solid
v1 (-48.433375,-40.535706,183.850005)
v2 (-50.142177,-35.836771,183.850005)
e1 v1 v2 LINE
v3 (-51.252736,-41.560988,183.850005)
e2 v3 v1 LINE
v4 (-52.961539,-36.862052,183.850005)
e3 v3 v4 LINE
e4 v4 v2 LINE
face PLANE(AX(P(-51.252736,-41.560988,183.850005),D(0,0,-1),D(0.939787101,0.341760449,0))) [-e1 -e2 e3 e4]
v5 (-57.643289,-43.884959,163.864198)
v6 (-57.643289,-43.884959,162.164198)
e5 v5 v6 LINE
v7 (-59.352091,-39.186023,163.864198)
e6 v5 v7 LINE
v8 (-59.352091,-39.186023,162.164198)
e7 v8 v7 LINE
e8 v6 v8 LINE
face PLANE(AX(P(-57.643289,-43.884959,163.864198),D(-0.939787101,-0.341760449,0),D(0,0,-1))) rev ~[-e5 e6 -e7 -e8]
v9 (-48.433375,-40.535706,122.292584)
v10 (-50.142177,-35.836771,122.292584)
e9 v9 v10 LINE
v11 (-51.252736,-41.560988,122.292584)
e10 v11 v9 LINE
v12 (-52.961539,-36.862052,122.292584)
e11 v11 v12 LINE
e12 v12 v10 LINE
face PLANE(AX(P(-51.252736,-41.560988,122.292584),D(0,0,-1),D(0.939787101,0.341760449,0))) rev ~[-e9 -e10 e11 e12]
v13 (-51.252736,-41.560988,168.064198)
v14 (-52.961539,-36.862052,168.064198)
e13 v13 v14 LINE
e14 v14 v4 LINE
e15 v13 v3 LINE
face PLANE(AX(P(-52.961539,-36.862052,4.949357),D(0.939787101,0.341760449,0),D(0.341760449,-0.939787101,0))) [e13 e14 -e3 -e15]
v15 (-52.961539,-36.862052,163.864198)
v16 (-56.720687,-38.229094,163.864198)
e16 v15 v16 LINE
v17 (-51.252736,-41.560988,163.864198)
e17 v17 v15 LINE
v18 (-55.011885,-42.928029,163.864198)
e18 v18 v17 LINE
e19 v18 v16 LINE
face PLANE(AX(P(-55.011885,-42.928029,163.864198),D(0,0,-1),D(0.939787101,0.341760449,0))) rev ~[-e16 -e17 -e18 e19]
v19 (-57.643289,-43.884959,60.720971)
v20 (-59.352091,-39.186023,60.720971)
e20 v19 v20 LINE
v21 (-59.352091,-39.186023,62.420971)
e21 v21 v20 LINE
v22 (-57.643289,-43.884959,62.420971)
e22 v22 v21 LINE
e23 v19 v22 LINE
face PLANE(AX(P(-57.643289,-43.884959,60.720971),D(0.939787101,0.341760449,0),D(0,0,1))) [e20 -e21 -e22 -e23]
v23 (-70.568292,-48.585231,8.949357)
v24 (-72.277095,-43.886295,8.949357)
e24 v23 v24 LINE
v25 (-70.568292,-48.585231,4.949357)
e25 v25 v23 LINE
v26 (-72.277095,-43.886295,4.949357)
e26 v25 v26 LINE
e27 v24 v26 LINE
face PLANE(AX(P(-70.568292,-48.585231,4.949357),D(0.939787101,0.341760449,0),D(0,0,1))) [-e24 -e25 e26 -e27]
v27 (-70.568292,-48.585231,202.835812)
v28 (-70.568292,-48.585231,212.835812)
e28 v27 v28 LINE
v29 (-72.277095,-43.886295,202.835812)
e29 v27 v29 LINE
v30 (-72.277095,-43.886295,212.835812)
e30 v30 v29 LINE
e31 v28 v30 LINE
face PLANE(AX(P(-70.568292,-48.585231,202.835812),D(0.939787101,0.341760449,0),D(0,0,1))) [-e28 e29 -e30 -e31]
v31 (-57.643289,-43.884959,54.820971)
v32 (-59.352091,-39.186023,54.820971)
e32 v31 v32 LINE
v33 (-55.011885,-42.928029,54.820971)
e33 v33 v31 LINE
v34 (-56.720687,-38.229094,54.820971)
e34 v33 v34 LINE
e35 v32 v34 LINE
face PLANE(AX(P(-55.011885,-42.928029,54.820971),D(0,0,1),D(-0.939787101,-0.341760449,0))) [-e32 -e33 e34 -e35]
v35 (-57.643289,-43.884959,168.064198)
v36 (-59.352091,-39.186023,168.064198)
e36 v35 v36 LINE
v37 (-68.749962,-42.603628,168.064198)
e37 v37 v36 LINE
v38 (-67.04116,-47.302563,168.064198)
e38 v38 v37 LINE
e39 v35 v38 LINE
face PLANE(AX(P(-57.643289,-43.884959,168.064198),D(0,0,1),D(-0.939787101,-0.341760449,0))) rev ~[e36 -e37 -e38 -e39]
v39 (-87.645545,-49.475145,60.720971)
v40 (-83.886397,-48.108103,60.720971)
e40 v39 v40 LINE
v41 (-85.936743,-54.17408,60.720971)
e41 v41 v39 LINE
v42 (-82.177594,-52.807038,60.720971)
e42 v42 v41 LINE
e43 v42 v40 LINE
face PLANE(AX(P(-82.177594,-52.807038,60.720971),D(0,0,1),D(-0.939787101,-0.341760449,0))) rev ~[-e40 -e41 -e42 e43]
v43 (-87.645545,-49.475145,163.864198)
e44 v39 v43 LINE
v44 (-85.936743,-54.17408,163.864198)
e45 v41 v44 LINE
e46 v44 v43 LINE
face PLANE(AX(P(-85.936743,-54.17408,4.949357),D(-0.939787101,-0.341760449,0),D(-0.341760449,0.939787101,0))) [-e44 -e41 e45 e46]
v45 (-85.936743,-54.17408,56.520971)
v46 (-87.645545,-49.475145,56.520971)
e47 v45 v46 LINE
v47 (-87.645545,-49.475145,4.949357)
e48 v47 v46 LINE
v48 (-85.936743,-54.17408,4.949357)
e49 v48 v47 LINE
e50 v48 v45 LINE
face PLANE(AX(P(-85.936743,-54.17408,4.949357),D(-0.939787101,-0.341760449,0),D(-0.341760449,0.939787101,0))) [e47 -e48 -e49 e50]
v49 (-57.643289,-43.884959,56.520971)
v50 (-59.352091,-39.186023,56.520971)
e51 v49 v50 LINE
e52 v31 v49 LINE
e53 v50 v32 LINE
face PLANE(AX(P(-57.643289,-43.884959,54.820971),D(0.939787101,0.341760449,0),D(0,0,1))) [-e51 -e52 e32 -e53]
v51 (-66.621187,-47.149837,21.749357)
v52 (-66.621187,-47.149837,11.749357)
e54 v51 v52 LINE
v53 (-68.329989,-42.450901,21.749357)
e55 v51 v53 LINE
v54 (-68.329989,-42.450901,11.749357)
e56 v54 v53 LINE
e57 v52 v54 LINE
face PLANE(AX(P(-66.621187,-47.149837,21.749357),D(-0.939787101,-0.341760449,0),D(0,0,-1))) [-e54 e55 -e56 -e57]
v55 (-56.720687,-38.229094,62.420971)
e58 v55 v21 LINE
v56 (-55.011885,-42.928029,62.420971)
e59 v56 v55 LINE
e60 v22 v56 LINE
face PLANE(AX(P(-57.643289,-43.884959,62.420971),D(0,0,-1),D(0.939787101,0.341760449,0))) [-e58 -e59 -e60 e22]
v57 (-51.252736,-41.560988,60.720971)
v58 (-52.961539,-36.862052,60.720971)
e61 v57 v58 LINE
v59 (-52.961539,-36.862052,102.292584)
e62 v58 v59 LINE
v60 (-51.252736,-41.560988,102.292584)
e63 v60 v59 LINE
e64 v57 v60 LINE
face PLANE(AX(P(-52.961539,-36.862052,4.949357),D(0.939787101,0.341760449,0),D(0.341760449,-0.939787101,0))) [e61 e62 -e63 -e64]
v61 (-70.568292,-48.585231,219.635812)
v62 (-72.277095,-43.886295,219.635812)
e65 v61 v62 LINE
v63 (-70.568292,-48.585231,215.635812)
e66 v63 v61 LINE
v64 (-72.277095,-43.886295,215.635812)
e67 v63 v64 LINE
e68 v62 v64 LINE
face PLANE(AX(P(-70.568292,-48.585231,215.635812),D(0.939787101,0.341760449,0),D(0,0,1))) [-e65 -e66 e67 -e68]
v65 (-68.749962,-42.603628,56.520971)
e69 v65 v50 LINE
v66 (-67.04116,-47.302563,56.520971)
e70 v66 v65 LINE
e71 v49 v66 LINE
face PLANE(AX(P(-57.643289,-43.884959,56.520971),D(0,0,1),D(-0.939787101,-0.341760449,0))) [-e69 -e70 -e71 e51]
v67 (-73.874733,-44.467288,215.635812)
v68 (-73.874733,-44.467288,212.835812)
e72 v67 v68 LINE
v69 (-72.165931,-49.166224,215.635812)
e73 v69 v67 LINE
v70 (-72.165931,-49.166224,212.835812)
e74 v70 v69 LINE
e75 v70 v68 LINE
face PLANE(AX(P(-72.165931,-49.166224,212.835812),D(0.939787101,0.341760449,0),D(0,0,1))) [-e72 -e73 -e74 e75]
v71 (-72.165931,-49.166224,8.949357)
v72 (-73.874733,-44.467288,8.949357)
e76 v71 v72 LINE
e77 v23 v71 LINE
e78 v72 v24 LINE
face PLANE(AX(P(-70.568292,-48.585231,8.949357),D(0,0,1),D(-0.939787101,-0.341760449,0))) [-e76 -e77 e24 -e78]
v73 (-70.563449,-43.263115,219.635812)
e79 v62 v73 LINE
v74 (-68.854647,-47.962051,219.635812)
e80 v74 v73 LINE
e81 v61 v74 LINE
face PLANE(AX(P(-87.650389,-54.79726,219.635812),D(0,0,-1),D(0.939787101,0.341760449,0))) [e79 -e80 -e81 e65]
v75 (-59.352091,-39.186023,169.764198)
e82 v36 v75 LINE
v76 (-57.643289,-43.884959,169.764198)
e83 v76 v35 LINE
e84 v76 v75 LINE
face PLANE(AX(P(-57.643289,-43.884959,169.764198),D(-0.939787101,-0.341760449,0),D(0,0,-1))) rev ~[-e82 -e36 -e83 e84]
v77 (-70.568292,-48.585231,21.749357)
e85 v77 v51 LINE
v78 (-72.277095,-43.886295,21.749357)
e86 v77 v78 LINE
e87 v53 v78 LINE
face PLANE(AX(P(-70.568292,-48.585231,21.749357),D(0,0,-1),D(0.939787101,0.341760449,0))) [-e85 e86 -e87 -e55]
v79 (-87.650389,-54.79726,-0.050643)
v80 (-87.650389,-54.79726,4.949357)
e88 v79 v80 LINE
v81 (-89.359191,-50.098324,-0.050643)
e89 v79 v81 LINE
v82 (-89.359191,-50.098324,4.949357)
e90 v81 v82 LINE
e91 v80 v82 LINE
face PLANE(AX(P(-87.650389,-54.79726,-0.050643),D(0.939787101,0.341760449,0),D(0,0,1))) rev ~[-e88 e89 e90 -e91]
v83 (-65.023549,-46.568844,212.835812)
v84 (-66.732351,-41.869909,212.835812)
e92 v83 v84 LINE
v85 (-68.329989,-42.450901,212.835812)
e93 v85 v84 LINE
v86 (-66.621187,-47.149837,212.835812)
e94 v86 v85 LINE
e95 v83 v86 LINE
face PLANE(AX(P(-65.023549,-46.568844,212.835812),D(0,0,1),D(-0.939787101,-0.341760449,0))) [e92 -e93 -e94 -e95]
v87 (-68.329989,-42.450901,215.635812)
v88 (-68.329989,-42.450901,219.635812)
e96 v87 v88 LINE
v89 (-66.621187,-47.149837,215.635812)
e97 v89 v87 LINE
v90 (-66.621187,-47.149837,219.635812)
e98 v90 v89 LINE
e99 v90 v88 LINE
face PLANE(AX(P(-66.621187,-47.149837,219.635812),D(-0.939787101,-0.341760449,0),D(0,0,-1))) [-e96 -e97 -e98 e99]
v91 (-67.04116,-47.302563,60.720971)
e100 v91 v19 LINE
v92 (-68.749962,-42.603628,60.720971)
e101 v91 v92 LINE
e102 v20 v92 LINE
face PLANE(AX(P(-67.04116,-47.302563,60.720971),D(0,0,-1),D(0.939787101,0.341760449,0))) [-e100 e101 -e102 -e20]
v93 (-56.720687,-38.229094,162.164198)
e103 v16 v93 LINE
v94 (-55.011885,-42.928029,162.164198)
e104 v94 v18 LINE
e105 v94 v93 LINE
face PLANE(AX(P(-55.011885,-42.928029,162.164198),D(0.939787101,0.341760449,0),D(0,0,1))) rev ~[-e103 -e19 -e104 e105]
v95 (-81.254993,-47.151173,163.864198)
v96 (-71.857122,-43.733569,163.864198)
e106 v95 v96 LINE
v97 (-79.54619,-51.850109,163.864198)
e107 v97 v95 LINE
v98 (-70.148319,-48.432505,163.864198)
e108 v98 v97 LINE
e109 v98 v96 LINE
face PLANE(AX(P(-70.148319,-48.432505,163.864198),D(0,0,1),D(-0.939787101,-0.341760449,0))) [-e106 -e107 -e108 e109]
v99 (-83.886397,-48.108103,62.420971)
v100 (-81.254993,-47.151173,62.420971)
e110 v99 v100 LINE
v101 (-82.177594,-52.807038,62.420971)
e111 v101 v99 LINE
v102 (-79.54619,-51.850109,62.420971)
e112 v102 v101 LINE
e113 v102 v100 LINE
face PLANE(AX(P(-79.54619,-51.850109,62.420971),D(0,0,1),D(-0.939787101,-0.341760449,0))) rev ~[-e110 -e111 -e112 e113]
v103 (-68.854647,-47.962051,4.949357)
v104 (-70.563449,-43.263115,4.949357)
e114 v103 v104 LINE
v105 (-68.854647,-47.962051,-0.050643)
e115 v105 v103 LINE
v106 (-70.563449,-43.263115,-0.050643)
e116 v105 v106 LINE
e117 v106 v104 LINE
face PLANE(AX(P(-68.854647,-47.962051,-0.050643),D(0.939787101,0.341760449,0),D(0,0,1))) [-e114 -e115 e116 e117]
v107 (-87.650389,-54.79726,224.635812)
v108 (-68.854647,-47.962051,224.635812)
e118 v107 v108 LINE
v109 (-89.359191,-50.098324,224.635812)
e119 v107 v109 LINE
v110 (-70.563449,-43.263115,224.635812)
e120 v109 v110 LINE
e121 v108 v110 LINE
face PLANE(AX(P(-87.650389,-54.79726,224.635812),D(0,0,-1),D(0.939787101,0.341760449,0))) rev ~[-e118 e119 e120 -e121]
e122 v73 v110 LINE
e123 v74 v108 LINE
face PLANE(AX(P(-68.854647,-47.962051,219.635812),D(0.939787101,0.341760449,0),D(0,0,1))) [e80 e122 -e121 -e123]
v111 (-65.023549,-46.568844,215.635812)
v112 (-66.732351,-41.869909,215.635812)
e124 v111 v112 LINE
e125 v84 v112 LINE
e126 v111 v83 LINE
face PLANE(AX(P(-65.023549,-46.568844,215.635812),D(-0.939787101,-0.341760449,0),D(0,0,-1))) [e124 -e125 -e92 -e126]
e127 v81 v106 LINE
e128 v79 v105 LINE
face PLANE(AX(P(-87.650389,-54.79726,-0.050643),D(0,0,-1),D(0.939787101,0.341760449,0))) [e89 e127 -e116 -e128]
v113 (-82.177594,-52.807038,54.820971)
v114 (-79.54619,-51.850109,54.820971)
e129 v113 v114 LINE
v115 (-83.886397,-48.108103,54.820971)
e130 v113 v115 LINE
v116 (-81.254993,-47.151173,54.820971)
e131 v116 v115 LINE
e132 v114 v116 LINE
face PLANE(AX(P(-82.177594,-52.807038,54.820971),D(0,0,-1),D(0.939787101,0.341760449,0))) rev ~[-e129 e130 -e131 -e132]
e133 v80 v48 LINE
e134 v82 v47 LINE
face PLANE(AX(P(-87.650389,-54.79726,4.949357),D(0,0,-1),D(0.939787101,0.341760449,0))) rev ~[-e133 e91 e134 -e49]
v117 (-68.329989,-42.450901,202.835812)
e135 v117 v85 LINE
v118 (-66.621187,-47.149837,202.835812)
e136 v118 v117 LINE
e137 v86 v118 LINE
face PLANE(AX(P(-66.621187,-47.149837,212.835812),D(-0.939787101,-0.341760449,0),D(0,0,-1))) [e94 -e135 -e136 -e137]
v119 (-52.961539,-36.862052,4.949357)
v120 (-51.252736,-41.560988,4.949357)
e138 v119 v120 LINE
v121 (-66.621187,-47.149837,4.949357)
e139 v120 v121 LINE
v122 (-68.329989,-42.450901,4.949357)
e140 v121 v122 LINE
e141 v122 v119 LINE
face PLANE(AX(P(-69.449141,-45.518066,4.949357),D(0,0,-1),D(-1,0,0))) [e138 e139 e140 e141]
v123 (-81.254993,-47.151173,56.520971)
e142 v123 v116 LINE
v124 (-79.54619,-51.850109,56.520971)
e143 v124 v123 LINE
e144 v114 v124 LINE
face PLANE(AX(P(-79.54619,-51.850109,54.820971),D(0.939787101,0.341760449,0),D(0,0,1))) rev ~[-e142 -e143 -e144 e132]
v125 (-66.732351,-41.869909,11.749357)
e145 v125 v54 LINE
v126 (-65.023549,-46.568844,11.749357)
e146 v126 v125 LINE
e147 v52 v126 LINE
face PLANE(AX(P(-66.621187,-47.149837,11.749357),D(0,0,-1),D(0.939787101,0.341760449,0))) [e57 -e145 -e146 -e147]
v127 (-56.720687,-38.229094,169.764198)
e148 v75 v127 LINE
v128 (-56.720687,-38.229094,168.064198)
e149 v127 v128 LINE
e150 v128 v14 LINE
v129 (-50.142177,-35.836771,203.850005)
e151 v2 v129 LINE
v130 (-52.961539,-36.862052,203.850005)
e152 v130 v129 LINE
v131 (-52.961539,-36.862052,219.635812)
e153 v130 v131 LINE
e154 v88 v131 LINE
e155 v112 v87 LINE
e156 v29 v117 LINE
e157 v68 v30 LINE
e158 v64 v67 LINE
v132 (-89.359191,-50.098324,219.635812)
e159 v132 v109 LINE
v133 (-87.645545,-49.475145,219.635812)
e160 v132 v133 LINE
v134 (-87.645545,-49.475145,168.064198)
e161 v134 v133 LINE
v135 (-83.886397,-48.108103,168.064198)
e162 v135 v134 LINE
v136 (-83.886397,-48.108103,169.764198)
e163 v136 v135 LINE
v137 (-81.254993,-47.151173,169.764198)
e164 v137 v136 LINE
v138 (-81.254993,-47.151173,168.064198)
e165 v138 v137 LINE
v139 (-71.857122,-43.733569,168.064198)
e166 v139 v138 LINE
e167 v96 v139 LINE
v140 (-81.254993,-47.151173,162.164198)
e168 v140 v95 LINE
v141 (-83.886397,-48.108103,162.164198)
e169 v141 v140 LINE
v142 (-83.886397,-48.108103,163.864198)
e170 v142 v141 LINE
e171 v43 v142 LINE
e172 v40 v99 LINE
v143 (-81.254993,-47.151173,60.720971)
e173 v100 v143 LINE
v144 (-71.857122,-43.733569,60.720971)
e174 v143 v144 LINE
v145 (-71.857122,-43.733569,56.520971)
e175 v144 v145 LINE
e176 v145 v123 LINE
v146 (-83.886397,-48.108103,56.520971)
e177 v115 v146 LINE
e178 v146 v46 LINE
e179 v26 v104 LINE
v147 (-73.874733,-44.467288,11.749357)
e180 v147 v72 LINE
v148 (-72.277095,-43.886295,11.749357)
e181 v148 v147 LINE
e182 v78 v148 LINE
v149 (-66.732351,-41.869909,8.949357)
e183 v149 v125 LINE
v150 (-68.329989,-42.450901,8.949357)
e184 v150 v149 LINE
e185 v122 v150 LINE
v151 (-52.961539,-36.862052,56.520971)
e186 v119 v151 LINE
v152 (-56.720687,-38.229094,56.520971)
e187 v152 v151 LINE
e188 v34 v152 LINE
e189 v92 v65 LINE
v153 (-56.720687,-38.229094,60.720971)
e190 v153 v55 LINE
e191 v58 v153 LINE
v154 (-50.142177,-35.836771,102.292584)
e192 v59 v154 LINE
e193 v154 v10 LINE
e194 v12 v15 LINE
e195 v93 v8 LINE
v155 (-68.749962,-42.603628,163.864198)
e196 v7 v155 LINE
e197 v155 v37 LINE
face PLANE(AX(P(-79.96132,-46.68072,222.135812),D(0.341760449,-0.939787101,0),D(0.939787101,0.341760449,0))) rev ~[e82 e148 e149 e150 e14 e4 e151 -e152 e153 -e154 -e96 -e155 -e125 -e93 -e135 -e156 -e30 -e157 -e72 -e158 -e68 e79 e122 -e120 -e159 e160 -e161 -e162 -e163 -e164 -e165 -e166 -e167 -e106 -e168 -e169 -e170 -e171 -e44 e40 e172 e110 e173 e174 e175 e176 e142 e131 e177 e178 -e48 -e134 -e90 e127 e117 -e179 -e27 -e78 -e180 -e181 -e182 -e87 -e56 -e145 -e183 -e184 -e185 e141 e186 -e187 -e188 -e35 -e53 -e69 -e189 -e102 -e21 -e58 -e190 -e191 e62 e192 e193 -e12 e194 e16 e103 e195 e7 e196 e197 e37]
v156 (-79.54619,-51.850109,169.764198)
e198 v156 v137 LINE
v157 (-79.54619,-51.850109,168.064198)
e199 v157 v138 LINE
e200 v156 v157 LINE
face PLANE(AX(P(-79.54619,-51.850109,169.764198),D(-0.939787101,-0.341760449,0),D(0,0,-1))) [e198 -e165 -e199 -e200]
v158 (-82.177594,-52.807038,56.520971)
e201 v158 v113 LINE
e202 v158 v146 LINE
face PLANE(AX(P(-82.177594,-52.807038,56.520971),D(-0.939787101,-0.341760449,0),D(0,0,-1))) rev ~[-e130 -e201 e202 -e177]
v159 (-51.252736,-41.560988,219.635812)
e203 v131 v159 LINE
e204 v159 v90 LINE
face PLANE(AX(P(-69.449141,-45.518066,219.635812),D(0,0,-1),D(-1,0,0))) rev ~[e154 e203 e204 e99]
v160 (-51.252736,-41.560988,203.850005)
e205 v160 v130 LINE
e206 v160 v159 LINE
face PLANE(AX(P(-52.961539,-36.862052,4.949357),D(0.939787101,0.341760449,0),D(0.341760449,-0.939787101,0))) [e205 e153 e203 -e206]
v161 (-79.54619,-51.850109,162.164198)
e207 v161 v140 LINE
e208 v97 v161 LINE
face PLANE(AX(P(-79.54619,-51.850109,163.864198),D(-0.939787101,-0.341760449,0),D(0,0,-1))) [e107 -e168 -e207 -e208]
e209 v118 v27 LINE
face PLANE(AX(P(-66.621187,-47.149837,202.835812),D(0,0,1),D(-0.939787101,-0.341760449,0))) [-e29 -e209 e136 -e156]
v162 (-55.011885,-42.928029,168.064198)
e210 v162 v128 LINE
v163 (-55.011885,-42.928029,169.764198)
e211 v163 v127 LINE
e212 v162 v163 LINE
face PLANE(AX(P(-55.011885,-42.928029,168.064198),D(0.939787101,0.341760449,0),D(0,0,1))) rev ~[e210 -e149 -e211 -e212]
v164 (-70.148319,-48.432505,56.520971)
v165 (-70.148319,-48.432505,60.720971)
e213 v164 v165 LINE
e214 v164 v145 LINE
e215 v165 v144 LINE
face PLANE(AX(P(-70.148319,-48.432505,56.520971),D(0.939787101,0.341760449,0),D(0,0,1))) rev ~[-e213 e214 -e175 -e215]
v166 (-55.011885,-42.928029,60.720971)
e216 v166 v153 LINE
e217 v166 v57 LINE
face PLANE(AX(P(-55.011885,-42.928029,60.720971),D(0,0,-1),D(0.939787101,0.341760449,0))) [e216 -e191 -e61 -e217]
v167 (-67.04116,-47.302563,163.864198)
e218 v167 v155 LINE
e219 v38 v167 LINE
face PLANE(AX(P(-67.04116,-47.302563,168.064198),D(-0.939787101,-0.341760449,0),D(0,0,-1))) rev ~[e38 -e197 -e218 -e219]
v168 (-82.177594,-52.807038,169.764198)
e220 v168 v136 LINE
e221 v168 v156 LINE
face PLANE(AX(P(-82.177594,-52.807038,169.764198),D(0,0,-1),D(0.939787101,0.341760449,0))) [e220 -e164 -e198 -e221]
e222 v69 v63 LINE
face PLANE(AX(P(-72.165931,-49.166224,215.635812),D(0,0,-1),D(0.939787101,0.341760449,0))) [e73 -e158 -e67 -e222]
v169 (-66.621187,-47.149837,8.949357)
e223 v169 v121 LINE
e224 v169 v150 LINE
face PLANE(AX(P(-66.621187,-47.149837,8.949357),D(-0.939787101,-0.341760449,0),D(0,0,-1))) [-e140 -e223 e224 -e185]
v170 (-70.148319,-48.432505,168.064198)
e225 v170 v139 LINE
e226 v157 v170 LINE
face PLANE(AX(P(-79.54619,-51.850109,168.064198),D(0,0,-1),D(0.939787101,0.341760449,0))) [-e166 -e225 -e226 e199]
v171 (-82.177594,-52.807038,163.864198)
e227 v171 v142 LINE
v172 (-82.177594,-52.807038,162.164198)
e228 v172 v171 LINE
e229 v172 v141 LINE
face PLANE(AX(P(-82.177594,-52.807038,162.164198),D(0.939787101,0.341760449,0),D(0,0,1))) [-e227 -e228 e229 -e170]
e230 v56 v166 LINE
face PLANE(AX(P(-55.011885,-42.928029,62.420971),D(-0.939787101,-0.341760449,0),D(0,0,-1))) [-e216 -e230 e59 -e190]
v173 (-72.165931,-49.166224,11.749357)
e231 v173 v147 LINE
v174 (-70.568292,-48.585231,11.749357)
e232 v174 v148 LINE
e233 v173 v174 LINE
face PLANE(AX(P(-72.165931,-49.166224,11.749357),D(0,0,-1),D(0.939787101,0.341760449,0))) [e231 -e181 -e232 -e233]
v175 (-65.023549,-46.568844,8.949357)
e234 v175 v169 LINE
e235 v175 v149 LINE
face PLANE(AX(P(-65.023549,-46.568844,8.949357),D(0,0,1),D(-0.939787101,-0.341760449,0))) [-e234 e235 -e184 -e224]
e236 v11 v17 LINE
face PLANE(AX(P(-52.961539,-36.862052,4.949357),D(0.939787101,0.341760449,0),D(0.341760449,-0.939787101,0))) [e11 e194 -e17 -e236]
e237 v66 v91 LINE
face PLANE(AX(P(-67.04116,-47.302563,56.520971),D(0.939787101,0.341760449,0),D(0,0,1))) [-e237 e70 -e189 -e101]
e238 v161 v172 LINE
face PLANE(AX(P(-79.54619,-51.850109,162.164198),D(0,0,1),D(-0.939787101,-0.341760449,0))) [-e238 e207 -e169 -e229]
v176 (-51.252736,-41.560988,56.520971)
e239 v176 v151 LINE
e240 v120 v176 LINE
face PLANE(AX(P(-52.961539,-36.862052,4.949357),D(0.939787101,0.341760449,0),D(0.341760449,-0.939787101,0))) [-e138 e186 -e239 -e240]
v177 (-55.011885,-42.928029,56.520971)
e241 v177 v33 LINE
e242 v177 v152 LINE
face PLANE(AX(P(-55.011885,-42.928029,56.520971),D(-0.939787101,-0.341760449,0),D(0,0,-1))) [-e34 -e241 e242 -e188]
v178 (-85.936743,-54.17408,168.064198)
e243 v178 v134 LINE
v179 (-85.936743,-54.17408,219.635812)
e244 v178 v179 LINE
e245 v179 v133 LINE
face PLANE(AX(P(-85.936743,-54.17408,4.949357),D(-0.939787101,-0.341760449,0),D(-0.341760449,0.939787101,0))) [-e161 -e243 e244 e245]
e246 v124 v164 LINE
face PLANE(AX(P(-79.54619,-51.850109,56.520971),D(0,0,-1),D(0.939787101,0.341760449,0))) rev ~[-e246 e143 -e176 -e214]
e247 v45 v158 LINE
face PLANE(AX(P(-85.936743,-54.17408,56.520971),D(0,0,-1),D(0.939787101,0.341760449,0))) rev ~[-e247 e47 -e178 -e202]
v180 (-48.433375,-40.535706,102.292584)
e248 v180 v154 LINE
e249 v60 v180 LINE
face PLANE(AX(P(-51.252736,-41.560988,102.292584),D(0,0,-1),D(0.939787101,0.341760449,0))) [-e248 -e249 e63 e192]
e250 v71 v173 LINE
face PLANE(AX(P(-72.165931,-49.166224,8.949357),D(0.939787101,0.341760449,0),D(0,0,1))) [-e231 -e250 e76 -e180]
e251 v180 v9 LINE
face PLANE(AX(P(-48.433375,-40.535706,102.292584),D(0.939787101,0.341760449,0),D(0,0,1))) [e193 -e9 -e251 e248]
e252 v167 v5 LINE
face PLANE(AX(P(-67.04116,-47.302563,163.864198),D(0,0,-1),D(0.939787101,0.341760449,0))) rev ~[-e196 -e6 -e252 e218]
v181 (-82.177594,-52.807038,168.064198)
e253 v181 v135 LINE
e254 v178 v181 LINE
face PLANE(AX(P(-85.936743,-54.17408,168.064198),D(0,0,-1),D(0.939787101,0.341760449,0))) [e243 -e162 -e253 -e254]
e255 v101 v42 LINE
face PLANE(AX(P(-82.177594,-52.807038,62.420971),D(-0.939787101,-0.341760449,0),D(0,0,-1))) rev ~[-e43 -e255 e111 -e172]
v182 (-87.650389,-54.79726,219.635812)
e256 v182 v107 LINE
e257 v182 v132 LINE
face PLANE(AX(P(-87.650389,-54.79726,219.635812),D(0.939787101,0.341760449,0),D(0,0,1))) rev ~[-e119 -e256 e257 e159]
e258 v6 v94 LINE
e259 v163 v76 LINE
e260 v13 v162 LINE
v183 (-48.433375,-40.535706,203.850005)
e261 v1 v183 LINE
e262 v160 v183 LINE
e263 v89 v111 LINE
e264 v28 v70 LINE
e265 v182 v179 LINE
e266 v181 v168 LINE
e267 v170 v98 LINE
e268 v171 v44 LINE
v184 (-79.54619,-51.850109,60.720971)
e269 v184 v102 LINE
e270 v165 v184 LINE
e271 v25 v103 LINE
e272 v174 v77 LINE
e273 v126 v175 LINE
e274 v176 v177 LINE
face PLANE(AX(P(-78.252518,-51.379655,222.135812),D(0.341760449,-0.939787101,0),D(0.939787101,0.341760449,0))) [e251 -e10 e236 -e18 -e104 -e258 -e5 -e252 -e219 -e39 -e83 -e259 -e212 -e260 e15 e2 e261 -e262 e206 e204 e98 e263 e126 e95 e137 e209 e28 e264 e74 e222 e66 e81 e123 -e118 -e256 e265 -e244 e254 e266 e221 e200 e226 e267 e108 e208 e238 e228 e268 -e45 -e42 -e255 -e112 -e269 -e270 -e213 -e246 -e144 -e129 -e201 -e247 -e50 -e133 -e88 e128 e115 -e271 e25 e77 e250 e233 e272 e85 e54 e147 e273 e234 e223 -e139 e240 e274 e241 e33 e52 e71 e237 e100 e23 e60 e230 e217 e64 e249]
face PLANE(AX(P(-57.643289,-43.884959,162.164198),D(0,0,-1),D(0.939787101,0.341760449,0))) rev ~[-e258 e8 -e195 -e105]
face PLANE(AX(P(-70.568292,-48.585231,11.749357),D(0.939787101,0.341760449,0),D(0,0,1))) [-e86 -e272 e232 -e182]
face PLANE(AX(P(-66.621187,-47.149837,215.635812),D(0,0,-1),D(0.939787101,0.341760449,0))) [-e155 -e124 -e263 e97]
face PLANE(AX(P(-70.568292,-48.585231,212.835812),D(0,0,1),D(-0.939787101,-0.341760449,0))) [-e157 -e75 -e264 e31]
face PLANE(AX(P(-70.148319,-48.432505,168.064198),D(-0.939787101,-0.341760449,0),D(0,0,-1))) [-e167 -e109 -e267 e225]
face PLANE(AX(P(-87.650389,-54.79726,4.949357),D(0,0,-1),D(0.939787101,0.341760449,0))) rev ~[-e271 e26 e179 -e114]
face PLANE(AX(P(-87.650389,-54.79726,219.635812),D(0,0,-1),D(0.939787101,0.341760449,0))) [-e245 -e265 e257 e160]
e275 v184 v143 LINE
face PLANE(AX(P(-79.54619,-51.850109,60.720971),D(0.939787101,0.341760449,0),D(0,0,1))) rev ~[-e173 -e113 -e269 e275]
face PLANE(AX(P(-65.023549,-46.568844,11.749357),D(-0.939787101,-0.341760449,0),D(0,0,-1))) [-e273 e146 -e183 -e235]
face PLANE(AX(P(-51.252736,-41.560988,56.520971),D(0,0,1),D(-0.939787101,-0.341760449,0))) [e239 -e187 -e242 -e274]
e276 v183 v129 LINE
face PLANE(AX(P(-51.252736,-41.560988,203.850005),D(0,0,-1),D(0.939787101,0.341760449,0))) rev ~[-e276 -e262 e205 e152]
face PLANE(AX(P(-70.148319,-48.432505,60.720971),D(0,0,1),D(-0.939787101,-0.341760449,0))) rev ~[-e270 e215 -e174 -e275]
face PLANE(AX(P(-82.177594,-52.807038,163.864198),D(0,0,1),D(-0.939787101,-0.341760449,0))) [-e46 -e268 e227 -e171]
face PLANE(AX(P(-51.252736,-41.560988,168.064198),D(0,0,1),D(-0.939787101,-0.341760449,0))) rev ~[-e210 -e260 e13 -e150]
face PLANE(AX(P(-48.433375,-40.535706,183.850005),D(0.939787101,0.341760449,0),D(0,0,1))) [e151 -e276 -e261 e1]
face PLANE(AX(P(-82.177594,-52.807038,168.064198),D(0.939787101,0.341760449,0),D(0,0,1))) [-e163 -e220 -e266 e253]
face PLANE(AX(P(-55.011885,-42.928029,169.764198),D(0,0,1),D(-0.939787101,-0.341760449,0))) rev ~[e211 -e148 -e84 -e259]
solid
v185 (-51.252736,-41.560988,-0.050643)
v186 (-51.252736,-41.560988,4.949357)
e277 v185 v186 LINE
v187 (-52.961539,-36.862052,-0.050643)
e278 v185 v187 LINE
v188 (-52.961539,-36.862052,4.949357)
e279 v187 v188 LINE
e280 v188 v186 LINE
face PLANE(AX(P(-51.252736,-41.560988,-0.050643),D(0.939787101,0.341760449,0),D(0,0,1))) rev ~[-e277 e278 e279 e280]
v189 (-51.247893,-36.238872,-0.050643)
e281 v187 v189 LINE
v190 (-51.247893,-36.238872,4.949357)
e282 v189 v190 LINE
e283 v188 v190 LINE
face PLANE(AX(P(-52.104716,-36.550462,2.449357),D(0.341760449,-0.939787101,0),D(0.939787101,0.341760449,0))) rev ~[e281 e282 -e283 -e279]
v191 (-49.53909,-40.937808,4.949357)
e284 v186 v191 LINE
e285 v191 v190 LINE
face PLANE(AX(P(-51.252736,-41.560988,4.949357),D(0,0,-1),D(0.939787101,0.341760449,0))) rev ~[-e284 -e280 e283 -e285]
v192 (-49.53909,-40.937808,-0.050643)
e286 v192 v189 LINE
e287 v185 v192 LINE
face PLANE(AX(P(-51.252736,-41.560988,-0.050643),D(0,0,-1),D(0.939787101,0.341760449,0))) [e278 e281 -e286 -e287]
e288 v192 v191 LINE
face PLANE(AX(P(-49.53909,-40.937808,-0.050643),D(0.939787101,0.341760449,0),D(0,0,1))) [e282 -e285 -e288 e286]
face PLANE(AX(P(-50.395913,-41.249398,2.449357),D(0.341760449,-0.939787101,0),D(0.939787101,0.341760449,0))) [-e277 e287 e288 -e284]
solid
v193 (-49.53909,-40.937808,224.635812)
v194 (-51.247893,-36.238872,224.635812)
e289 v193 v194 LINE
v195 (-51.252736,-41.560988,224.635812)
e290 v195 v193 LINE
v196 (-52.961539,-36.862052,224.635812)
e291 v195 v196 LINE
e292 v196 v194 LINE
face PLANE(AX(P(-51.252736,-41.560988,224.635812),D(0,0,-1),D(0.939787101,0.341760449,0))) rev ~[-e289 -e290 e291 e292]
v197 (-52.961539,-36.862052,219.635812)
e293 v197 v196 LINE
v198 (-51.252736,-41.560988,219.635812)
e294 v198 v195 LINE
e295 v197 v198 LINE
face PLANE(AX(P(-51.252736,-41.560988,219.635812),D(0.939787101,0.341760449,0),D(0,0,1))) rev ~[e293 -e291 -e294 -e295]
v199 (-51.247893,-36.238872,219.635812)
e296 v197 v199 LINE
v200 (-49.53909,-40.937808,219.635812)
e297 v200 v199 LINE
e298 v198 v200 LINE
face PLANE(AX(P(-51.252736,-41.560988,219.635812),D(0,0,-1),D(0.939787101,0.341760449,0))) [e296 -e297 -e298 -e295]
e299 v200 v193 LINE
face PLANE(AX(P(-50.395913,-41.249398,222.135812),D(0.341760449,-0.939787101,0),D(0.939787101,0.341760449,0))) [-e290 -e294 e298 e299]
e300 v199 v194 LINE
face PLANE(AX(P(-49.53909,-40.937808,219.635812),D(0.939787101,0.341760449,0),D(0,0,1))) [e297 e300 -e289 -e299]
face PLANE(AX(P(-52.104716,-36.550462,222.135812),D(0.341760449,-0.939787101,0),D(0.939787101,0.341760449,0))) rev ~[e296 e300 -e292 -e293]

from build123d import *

# Parameters (mm, degrees)
BOSS_EXTRUDE1_DEPTH = 214.686455
CUT_EXTRUDE3_DEPTH  = 17.853621588
SKETCH5_W           = 20
SKETCH5_H           = 5
SKETCH5_W_2         = 1.823440518
SKETCH5_W_3         = 3
SKETCH5_H_2         = 20
BOSS_EXTRUDE2_DEPTH = 5


with BuildPart() as part:
    # Sketch2 → Boss-Extrude1 (new body)
    with BuildSketch(Plane.XY.offset(4.949356739)):
        Polygon((-52.961538618, -36.862052104), (-51.252736373, -41.56098761), (-85.936742732, -54.174080058), (-87.645544977, -49.475144552), align=None)
    extrude(amount=BOSS_EXTRUDE1_DEPTH)

    # Sketch4 → Cut-Extrude3 (cut, through all)
    with BuildSketch(Plane(origin=(7.362313595, -20.245196221, 0), x_dir=(-0.939787101, -0.341760449, 0), z_dir=(0.341760449, -0.939787101, 0))):
        Polygon((78.723681295, -4.949356739), (82.923681295, -4.949356739), (82.923681295, -8.949356739), (84.623681295, -8.949356739), (84.623681295, -11.749356739), (82.923681295, -11.749356739), (82.923681295, -21.749356739), (78.723681295, -21.749356739), (78.723681295, -11.749356739), (77.023681295, -11.749356739), (77.023681295, -8.949356739), (78.723681295, -8.949356739), align=None)
        Polygon((62.37056233, -60.720970532), (62.37056233, -56.520970532), (66.37056233, -56.520970532), (66.37056233, -54.820970532), (69.17056233, -54.820970532), (69.17056233, -56.520970532), (79.17056233, -56.520970532), (79.17056233, -60.720970532), (69.17056233, -60.720970532), (69.17056233, -62.420970532), (66.37056233, -62.420970532), (66.37056233, -60.720970532), align=None)
        Polygon((82.923681295, -219.635811913), (78.723681295, -219.635811913), (78.723681295, -215.635811913), (77.023681295, -215.635811913), (77.023681295, -212.835811913), (78.723681295, -212.835811913), (78.723681295, -202.835811913), (82.923681295, -202.835811913), (82.923681295, -212.835811913), (84.623681295, -212.835811913), (84.623681295, -215.635811913), (82.923681295, -215.635811913), align=None)
        Polygon((66.37056233, -168.064198119), (66.37056233, -169.764198119), (69.17056233, -169.764198119), (69.17056233, -168.064198119), (79.17056233, -168.064198119), (79.17056233, -163.864198119), (69.17056233, -163.864198119), (69.17056233, -162.164198119), (66.37056233, -162.164198119), (66.37056233, -163.864198119), (62.37056233, -163.864198119), (62.37056233, -168.064198119), align=None)
        Polygon((99.276800261, -163.864198119), (99.276800261, -168.064198119), (95.276800261, -168.064198119), (95.276800261, -169.764198119), (92.476800261, -169.764198119), (92.476800261, -168.064198119), (82.476800261, -168.064198119), (82.476800261, -163.864198119), (92.476800261, -163.864198119), (92.476800261, -162.164198119), (95.276800261, -162.164198119), (95.276800261, -163.864198119), align=None)
        Polygon((95.276800261, -56.520970532), (95.276800261, -54.820970532), (92.476800261, -54.820970532), (92.476800261, -56.520970532), (82.476800261, -56.520970532), (82.476800261, -60.720970532), (92.476800261, -60.720970532), (92.476800261, -62.420970532), (95.276800261, -62.420970532), (95.276800261, -60.720970532), (99.276800261, -60.720970532), (99.276800261, -56.520970532), align=None)
    extrude(amount=-CUT_EXTRUDE3_DEPTH, mode=Mode.SUBTRACT)

    # Sketch5 → Boss-Extrude2 (add)
    with BuildSketch(Plane(origin=(7.362313595, -20.245196221, 0), x_dir=(0.939787101, 0.341760449, 0), z_dir=(0.341760449, -0.939787101, 0))):
        with Locations((-91.100240778, 222.135811913)):
            Rectangle(SKETCH5_W, SKETCH5_H)
        with Locations((-61.458842071, 2.449356739)):
            Rectangle(SKETCH5_W_2, SKETCH5_H)
        with Locations((-60.87056233, 112.292584326)):
            Rectangle(SKETCH5_W_3, SKETCH5_H_2)
        with Locations((-60.87056233, 193.850005016)):
            Rectangle(SKETCH5_W_3, SKETCH5_H_2)
        with Locations((-61.458842071, 222.135811913)):
            Rectangle(SKETCH5_W_2, SKETCH5_H)
        with Locations((-91.100240778, 2.449356739)):
            Rectangle(SKETCH5_W, SKETCH5_H)
    extrude(amount=-BOSS_EXTRUDE2_DEPTH)


solid = part.part
